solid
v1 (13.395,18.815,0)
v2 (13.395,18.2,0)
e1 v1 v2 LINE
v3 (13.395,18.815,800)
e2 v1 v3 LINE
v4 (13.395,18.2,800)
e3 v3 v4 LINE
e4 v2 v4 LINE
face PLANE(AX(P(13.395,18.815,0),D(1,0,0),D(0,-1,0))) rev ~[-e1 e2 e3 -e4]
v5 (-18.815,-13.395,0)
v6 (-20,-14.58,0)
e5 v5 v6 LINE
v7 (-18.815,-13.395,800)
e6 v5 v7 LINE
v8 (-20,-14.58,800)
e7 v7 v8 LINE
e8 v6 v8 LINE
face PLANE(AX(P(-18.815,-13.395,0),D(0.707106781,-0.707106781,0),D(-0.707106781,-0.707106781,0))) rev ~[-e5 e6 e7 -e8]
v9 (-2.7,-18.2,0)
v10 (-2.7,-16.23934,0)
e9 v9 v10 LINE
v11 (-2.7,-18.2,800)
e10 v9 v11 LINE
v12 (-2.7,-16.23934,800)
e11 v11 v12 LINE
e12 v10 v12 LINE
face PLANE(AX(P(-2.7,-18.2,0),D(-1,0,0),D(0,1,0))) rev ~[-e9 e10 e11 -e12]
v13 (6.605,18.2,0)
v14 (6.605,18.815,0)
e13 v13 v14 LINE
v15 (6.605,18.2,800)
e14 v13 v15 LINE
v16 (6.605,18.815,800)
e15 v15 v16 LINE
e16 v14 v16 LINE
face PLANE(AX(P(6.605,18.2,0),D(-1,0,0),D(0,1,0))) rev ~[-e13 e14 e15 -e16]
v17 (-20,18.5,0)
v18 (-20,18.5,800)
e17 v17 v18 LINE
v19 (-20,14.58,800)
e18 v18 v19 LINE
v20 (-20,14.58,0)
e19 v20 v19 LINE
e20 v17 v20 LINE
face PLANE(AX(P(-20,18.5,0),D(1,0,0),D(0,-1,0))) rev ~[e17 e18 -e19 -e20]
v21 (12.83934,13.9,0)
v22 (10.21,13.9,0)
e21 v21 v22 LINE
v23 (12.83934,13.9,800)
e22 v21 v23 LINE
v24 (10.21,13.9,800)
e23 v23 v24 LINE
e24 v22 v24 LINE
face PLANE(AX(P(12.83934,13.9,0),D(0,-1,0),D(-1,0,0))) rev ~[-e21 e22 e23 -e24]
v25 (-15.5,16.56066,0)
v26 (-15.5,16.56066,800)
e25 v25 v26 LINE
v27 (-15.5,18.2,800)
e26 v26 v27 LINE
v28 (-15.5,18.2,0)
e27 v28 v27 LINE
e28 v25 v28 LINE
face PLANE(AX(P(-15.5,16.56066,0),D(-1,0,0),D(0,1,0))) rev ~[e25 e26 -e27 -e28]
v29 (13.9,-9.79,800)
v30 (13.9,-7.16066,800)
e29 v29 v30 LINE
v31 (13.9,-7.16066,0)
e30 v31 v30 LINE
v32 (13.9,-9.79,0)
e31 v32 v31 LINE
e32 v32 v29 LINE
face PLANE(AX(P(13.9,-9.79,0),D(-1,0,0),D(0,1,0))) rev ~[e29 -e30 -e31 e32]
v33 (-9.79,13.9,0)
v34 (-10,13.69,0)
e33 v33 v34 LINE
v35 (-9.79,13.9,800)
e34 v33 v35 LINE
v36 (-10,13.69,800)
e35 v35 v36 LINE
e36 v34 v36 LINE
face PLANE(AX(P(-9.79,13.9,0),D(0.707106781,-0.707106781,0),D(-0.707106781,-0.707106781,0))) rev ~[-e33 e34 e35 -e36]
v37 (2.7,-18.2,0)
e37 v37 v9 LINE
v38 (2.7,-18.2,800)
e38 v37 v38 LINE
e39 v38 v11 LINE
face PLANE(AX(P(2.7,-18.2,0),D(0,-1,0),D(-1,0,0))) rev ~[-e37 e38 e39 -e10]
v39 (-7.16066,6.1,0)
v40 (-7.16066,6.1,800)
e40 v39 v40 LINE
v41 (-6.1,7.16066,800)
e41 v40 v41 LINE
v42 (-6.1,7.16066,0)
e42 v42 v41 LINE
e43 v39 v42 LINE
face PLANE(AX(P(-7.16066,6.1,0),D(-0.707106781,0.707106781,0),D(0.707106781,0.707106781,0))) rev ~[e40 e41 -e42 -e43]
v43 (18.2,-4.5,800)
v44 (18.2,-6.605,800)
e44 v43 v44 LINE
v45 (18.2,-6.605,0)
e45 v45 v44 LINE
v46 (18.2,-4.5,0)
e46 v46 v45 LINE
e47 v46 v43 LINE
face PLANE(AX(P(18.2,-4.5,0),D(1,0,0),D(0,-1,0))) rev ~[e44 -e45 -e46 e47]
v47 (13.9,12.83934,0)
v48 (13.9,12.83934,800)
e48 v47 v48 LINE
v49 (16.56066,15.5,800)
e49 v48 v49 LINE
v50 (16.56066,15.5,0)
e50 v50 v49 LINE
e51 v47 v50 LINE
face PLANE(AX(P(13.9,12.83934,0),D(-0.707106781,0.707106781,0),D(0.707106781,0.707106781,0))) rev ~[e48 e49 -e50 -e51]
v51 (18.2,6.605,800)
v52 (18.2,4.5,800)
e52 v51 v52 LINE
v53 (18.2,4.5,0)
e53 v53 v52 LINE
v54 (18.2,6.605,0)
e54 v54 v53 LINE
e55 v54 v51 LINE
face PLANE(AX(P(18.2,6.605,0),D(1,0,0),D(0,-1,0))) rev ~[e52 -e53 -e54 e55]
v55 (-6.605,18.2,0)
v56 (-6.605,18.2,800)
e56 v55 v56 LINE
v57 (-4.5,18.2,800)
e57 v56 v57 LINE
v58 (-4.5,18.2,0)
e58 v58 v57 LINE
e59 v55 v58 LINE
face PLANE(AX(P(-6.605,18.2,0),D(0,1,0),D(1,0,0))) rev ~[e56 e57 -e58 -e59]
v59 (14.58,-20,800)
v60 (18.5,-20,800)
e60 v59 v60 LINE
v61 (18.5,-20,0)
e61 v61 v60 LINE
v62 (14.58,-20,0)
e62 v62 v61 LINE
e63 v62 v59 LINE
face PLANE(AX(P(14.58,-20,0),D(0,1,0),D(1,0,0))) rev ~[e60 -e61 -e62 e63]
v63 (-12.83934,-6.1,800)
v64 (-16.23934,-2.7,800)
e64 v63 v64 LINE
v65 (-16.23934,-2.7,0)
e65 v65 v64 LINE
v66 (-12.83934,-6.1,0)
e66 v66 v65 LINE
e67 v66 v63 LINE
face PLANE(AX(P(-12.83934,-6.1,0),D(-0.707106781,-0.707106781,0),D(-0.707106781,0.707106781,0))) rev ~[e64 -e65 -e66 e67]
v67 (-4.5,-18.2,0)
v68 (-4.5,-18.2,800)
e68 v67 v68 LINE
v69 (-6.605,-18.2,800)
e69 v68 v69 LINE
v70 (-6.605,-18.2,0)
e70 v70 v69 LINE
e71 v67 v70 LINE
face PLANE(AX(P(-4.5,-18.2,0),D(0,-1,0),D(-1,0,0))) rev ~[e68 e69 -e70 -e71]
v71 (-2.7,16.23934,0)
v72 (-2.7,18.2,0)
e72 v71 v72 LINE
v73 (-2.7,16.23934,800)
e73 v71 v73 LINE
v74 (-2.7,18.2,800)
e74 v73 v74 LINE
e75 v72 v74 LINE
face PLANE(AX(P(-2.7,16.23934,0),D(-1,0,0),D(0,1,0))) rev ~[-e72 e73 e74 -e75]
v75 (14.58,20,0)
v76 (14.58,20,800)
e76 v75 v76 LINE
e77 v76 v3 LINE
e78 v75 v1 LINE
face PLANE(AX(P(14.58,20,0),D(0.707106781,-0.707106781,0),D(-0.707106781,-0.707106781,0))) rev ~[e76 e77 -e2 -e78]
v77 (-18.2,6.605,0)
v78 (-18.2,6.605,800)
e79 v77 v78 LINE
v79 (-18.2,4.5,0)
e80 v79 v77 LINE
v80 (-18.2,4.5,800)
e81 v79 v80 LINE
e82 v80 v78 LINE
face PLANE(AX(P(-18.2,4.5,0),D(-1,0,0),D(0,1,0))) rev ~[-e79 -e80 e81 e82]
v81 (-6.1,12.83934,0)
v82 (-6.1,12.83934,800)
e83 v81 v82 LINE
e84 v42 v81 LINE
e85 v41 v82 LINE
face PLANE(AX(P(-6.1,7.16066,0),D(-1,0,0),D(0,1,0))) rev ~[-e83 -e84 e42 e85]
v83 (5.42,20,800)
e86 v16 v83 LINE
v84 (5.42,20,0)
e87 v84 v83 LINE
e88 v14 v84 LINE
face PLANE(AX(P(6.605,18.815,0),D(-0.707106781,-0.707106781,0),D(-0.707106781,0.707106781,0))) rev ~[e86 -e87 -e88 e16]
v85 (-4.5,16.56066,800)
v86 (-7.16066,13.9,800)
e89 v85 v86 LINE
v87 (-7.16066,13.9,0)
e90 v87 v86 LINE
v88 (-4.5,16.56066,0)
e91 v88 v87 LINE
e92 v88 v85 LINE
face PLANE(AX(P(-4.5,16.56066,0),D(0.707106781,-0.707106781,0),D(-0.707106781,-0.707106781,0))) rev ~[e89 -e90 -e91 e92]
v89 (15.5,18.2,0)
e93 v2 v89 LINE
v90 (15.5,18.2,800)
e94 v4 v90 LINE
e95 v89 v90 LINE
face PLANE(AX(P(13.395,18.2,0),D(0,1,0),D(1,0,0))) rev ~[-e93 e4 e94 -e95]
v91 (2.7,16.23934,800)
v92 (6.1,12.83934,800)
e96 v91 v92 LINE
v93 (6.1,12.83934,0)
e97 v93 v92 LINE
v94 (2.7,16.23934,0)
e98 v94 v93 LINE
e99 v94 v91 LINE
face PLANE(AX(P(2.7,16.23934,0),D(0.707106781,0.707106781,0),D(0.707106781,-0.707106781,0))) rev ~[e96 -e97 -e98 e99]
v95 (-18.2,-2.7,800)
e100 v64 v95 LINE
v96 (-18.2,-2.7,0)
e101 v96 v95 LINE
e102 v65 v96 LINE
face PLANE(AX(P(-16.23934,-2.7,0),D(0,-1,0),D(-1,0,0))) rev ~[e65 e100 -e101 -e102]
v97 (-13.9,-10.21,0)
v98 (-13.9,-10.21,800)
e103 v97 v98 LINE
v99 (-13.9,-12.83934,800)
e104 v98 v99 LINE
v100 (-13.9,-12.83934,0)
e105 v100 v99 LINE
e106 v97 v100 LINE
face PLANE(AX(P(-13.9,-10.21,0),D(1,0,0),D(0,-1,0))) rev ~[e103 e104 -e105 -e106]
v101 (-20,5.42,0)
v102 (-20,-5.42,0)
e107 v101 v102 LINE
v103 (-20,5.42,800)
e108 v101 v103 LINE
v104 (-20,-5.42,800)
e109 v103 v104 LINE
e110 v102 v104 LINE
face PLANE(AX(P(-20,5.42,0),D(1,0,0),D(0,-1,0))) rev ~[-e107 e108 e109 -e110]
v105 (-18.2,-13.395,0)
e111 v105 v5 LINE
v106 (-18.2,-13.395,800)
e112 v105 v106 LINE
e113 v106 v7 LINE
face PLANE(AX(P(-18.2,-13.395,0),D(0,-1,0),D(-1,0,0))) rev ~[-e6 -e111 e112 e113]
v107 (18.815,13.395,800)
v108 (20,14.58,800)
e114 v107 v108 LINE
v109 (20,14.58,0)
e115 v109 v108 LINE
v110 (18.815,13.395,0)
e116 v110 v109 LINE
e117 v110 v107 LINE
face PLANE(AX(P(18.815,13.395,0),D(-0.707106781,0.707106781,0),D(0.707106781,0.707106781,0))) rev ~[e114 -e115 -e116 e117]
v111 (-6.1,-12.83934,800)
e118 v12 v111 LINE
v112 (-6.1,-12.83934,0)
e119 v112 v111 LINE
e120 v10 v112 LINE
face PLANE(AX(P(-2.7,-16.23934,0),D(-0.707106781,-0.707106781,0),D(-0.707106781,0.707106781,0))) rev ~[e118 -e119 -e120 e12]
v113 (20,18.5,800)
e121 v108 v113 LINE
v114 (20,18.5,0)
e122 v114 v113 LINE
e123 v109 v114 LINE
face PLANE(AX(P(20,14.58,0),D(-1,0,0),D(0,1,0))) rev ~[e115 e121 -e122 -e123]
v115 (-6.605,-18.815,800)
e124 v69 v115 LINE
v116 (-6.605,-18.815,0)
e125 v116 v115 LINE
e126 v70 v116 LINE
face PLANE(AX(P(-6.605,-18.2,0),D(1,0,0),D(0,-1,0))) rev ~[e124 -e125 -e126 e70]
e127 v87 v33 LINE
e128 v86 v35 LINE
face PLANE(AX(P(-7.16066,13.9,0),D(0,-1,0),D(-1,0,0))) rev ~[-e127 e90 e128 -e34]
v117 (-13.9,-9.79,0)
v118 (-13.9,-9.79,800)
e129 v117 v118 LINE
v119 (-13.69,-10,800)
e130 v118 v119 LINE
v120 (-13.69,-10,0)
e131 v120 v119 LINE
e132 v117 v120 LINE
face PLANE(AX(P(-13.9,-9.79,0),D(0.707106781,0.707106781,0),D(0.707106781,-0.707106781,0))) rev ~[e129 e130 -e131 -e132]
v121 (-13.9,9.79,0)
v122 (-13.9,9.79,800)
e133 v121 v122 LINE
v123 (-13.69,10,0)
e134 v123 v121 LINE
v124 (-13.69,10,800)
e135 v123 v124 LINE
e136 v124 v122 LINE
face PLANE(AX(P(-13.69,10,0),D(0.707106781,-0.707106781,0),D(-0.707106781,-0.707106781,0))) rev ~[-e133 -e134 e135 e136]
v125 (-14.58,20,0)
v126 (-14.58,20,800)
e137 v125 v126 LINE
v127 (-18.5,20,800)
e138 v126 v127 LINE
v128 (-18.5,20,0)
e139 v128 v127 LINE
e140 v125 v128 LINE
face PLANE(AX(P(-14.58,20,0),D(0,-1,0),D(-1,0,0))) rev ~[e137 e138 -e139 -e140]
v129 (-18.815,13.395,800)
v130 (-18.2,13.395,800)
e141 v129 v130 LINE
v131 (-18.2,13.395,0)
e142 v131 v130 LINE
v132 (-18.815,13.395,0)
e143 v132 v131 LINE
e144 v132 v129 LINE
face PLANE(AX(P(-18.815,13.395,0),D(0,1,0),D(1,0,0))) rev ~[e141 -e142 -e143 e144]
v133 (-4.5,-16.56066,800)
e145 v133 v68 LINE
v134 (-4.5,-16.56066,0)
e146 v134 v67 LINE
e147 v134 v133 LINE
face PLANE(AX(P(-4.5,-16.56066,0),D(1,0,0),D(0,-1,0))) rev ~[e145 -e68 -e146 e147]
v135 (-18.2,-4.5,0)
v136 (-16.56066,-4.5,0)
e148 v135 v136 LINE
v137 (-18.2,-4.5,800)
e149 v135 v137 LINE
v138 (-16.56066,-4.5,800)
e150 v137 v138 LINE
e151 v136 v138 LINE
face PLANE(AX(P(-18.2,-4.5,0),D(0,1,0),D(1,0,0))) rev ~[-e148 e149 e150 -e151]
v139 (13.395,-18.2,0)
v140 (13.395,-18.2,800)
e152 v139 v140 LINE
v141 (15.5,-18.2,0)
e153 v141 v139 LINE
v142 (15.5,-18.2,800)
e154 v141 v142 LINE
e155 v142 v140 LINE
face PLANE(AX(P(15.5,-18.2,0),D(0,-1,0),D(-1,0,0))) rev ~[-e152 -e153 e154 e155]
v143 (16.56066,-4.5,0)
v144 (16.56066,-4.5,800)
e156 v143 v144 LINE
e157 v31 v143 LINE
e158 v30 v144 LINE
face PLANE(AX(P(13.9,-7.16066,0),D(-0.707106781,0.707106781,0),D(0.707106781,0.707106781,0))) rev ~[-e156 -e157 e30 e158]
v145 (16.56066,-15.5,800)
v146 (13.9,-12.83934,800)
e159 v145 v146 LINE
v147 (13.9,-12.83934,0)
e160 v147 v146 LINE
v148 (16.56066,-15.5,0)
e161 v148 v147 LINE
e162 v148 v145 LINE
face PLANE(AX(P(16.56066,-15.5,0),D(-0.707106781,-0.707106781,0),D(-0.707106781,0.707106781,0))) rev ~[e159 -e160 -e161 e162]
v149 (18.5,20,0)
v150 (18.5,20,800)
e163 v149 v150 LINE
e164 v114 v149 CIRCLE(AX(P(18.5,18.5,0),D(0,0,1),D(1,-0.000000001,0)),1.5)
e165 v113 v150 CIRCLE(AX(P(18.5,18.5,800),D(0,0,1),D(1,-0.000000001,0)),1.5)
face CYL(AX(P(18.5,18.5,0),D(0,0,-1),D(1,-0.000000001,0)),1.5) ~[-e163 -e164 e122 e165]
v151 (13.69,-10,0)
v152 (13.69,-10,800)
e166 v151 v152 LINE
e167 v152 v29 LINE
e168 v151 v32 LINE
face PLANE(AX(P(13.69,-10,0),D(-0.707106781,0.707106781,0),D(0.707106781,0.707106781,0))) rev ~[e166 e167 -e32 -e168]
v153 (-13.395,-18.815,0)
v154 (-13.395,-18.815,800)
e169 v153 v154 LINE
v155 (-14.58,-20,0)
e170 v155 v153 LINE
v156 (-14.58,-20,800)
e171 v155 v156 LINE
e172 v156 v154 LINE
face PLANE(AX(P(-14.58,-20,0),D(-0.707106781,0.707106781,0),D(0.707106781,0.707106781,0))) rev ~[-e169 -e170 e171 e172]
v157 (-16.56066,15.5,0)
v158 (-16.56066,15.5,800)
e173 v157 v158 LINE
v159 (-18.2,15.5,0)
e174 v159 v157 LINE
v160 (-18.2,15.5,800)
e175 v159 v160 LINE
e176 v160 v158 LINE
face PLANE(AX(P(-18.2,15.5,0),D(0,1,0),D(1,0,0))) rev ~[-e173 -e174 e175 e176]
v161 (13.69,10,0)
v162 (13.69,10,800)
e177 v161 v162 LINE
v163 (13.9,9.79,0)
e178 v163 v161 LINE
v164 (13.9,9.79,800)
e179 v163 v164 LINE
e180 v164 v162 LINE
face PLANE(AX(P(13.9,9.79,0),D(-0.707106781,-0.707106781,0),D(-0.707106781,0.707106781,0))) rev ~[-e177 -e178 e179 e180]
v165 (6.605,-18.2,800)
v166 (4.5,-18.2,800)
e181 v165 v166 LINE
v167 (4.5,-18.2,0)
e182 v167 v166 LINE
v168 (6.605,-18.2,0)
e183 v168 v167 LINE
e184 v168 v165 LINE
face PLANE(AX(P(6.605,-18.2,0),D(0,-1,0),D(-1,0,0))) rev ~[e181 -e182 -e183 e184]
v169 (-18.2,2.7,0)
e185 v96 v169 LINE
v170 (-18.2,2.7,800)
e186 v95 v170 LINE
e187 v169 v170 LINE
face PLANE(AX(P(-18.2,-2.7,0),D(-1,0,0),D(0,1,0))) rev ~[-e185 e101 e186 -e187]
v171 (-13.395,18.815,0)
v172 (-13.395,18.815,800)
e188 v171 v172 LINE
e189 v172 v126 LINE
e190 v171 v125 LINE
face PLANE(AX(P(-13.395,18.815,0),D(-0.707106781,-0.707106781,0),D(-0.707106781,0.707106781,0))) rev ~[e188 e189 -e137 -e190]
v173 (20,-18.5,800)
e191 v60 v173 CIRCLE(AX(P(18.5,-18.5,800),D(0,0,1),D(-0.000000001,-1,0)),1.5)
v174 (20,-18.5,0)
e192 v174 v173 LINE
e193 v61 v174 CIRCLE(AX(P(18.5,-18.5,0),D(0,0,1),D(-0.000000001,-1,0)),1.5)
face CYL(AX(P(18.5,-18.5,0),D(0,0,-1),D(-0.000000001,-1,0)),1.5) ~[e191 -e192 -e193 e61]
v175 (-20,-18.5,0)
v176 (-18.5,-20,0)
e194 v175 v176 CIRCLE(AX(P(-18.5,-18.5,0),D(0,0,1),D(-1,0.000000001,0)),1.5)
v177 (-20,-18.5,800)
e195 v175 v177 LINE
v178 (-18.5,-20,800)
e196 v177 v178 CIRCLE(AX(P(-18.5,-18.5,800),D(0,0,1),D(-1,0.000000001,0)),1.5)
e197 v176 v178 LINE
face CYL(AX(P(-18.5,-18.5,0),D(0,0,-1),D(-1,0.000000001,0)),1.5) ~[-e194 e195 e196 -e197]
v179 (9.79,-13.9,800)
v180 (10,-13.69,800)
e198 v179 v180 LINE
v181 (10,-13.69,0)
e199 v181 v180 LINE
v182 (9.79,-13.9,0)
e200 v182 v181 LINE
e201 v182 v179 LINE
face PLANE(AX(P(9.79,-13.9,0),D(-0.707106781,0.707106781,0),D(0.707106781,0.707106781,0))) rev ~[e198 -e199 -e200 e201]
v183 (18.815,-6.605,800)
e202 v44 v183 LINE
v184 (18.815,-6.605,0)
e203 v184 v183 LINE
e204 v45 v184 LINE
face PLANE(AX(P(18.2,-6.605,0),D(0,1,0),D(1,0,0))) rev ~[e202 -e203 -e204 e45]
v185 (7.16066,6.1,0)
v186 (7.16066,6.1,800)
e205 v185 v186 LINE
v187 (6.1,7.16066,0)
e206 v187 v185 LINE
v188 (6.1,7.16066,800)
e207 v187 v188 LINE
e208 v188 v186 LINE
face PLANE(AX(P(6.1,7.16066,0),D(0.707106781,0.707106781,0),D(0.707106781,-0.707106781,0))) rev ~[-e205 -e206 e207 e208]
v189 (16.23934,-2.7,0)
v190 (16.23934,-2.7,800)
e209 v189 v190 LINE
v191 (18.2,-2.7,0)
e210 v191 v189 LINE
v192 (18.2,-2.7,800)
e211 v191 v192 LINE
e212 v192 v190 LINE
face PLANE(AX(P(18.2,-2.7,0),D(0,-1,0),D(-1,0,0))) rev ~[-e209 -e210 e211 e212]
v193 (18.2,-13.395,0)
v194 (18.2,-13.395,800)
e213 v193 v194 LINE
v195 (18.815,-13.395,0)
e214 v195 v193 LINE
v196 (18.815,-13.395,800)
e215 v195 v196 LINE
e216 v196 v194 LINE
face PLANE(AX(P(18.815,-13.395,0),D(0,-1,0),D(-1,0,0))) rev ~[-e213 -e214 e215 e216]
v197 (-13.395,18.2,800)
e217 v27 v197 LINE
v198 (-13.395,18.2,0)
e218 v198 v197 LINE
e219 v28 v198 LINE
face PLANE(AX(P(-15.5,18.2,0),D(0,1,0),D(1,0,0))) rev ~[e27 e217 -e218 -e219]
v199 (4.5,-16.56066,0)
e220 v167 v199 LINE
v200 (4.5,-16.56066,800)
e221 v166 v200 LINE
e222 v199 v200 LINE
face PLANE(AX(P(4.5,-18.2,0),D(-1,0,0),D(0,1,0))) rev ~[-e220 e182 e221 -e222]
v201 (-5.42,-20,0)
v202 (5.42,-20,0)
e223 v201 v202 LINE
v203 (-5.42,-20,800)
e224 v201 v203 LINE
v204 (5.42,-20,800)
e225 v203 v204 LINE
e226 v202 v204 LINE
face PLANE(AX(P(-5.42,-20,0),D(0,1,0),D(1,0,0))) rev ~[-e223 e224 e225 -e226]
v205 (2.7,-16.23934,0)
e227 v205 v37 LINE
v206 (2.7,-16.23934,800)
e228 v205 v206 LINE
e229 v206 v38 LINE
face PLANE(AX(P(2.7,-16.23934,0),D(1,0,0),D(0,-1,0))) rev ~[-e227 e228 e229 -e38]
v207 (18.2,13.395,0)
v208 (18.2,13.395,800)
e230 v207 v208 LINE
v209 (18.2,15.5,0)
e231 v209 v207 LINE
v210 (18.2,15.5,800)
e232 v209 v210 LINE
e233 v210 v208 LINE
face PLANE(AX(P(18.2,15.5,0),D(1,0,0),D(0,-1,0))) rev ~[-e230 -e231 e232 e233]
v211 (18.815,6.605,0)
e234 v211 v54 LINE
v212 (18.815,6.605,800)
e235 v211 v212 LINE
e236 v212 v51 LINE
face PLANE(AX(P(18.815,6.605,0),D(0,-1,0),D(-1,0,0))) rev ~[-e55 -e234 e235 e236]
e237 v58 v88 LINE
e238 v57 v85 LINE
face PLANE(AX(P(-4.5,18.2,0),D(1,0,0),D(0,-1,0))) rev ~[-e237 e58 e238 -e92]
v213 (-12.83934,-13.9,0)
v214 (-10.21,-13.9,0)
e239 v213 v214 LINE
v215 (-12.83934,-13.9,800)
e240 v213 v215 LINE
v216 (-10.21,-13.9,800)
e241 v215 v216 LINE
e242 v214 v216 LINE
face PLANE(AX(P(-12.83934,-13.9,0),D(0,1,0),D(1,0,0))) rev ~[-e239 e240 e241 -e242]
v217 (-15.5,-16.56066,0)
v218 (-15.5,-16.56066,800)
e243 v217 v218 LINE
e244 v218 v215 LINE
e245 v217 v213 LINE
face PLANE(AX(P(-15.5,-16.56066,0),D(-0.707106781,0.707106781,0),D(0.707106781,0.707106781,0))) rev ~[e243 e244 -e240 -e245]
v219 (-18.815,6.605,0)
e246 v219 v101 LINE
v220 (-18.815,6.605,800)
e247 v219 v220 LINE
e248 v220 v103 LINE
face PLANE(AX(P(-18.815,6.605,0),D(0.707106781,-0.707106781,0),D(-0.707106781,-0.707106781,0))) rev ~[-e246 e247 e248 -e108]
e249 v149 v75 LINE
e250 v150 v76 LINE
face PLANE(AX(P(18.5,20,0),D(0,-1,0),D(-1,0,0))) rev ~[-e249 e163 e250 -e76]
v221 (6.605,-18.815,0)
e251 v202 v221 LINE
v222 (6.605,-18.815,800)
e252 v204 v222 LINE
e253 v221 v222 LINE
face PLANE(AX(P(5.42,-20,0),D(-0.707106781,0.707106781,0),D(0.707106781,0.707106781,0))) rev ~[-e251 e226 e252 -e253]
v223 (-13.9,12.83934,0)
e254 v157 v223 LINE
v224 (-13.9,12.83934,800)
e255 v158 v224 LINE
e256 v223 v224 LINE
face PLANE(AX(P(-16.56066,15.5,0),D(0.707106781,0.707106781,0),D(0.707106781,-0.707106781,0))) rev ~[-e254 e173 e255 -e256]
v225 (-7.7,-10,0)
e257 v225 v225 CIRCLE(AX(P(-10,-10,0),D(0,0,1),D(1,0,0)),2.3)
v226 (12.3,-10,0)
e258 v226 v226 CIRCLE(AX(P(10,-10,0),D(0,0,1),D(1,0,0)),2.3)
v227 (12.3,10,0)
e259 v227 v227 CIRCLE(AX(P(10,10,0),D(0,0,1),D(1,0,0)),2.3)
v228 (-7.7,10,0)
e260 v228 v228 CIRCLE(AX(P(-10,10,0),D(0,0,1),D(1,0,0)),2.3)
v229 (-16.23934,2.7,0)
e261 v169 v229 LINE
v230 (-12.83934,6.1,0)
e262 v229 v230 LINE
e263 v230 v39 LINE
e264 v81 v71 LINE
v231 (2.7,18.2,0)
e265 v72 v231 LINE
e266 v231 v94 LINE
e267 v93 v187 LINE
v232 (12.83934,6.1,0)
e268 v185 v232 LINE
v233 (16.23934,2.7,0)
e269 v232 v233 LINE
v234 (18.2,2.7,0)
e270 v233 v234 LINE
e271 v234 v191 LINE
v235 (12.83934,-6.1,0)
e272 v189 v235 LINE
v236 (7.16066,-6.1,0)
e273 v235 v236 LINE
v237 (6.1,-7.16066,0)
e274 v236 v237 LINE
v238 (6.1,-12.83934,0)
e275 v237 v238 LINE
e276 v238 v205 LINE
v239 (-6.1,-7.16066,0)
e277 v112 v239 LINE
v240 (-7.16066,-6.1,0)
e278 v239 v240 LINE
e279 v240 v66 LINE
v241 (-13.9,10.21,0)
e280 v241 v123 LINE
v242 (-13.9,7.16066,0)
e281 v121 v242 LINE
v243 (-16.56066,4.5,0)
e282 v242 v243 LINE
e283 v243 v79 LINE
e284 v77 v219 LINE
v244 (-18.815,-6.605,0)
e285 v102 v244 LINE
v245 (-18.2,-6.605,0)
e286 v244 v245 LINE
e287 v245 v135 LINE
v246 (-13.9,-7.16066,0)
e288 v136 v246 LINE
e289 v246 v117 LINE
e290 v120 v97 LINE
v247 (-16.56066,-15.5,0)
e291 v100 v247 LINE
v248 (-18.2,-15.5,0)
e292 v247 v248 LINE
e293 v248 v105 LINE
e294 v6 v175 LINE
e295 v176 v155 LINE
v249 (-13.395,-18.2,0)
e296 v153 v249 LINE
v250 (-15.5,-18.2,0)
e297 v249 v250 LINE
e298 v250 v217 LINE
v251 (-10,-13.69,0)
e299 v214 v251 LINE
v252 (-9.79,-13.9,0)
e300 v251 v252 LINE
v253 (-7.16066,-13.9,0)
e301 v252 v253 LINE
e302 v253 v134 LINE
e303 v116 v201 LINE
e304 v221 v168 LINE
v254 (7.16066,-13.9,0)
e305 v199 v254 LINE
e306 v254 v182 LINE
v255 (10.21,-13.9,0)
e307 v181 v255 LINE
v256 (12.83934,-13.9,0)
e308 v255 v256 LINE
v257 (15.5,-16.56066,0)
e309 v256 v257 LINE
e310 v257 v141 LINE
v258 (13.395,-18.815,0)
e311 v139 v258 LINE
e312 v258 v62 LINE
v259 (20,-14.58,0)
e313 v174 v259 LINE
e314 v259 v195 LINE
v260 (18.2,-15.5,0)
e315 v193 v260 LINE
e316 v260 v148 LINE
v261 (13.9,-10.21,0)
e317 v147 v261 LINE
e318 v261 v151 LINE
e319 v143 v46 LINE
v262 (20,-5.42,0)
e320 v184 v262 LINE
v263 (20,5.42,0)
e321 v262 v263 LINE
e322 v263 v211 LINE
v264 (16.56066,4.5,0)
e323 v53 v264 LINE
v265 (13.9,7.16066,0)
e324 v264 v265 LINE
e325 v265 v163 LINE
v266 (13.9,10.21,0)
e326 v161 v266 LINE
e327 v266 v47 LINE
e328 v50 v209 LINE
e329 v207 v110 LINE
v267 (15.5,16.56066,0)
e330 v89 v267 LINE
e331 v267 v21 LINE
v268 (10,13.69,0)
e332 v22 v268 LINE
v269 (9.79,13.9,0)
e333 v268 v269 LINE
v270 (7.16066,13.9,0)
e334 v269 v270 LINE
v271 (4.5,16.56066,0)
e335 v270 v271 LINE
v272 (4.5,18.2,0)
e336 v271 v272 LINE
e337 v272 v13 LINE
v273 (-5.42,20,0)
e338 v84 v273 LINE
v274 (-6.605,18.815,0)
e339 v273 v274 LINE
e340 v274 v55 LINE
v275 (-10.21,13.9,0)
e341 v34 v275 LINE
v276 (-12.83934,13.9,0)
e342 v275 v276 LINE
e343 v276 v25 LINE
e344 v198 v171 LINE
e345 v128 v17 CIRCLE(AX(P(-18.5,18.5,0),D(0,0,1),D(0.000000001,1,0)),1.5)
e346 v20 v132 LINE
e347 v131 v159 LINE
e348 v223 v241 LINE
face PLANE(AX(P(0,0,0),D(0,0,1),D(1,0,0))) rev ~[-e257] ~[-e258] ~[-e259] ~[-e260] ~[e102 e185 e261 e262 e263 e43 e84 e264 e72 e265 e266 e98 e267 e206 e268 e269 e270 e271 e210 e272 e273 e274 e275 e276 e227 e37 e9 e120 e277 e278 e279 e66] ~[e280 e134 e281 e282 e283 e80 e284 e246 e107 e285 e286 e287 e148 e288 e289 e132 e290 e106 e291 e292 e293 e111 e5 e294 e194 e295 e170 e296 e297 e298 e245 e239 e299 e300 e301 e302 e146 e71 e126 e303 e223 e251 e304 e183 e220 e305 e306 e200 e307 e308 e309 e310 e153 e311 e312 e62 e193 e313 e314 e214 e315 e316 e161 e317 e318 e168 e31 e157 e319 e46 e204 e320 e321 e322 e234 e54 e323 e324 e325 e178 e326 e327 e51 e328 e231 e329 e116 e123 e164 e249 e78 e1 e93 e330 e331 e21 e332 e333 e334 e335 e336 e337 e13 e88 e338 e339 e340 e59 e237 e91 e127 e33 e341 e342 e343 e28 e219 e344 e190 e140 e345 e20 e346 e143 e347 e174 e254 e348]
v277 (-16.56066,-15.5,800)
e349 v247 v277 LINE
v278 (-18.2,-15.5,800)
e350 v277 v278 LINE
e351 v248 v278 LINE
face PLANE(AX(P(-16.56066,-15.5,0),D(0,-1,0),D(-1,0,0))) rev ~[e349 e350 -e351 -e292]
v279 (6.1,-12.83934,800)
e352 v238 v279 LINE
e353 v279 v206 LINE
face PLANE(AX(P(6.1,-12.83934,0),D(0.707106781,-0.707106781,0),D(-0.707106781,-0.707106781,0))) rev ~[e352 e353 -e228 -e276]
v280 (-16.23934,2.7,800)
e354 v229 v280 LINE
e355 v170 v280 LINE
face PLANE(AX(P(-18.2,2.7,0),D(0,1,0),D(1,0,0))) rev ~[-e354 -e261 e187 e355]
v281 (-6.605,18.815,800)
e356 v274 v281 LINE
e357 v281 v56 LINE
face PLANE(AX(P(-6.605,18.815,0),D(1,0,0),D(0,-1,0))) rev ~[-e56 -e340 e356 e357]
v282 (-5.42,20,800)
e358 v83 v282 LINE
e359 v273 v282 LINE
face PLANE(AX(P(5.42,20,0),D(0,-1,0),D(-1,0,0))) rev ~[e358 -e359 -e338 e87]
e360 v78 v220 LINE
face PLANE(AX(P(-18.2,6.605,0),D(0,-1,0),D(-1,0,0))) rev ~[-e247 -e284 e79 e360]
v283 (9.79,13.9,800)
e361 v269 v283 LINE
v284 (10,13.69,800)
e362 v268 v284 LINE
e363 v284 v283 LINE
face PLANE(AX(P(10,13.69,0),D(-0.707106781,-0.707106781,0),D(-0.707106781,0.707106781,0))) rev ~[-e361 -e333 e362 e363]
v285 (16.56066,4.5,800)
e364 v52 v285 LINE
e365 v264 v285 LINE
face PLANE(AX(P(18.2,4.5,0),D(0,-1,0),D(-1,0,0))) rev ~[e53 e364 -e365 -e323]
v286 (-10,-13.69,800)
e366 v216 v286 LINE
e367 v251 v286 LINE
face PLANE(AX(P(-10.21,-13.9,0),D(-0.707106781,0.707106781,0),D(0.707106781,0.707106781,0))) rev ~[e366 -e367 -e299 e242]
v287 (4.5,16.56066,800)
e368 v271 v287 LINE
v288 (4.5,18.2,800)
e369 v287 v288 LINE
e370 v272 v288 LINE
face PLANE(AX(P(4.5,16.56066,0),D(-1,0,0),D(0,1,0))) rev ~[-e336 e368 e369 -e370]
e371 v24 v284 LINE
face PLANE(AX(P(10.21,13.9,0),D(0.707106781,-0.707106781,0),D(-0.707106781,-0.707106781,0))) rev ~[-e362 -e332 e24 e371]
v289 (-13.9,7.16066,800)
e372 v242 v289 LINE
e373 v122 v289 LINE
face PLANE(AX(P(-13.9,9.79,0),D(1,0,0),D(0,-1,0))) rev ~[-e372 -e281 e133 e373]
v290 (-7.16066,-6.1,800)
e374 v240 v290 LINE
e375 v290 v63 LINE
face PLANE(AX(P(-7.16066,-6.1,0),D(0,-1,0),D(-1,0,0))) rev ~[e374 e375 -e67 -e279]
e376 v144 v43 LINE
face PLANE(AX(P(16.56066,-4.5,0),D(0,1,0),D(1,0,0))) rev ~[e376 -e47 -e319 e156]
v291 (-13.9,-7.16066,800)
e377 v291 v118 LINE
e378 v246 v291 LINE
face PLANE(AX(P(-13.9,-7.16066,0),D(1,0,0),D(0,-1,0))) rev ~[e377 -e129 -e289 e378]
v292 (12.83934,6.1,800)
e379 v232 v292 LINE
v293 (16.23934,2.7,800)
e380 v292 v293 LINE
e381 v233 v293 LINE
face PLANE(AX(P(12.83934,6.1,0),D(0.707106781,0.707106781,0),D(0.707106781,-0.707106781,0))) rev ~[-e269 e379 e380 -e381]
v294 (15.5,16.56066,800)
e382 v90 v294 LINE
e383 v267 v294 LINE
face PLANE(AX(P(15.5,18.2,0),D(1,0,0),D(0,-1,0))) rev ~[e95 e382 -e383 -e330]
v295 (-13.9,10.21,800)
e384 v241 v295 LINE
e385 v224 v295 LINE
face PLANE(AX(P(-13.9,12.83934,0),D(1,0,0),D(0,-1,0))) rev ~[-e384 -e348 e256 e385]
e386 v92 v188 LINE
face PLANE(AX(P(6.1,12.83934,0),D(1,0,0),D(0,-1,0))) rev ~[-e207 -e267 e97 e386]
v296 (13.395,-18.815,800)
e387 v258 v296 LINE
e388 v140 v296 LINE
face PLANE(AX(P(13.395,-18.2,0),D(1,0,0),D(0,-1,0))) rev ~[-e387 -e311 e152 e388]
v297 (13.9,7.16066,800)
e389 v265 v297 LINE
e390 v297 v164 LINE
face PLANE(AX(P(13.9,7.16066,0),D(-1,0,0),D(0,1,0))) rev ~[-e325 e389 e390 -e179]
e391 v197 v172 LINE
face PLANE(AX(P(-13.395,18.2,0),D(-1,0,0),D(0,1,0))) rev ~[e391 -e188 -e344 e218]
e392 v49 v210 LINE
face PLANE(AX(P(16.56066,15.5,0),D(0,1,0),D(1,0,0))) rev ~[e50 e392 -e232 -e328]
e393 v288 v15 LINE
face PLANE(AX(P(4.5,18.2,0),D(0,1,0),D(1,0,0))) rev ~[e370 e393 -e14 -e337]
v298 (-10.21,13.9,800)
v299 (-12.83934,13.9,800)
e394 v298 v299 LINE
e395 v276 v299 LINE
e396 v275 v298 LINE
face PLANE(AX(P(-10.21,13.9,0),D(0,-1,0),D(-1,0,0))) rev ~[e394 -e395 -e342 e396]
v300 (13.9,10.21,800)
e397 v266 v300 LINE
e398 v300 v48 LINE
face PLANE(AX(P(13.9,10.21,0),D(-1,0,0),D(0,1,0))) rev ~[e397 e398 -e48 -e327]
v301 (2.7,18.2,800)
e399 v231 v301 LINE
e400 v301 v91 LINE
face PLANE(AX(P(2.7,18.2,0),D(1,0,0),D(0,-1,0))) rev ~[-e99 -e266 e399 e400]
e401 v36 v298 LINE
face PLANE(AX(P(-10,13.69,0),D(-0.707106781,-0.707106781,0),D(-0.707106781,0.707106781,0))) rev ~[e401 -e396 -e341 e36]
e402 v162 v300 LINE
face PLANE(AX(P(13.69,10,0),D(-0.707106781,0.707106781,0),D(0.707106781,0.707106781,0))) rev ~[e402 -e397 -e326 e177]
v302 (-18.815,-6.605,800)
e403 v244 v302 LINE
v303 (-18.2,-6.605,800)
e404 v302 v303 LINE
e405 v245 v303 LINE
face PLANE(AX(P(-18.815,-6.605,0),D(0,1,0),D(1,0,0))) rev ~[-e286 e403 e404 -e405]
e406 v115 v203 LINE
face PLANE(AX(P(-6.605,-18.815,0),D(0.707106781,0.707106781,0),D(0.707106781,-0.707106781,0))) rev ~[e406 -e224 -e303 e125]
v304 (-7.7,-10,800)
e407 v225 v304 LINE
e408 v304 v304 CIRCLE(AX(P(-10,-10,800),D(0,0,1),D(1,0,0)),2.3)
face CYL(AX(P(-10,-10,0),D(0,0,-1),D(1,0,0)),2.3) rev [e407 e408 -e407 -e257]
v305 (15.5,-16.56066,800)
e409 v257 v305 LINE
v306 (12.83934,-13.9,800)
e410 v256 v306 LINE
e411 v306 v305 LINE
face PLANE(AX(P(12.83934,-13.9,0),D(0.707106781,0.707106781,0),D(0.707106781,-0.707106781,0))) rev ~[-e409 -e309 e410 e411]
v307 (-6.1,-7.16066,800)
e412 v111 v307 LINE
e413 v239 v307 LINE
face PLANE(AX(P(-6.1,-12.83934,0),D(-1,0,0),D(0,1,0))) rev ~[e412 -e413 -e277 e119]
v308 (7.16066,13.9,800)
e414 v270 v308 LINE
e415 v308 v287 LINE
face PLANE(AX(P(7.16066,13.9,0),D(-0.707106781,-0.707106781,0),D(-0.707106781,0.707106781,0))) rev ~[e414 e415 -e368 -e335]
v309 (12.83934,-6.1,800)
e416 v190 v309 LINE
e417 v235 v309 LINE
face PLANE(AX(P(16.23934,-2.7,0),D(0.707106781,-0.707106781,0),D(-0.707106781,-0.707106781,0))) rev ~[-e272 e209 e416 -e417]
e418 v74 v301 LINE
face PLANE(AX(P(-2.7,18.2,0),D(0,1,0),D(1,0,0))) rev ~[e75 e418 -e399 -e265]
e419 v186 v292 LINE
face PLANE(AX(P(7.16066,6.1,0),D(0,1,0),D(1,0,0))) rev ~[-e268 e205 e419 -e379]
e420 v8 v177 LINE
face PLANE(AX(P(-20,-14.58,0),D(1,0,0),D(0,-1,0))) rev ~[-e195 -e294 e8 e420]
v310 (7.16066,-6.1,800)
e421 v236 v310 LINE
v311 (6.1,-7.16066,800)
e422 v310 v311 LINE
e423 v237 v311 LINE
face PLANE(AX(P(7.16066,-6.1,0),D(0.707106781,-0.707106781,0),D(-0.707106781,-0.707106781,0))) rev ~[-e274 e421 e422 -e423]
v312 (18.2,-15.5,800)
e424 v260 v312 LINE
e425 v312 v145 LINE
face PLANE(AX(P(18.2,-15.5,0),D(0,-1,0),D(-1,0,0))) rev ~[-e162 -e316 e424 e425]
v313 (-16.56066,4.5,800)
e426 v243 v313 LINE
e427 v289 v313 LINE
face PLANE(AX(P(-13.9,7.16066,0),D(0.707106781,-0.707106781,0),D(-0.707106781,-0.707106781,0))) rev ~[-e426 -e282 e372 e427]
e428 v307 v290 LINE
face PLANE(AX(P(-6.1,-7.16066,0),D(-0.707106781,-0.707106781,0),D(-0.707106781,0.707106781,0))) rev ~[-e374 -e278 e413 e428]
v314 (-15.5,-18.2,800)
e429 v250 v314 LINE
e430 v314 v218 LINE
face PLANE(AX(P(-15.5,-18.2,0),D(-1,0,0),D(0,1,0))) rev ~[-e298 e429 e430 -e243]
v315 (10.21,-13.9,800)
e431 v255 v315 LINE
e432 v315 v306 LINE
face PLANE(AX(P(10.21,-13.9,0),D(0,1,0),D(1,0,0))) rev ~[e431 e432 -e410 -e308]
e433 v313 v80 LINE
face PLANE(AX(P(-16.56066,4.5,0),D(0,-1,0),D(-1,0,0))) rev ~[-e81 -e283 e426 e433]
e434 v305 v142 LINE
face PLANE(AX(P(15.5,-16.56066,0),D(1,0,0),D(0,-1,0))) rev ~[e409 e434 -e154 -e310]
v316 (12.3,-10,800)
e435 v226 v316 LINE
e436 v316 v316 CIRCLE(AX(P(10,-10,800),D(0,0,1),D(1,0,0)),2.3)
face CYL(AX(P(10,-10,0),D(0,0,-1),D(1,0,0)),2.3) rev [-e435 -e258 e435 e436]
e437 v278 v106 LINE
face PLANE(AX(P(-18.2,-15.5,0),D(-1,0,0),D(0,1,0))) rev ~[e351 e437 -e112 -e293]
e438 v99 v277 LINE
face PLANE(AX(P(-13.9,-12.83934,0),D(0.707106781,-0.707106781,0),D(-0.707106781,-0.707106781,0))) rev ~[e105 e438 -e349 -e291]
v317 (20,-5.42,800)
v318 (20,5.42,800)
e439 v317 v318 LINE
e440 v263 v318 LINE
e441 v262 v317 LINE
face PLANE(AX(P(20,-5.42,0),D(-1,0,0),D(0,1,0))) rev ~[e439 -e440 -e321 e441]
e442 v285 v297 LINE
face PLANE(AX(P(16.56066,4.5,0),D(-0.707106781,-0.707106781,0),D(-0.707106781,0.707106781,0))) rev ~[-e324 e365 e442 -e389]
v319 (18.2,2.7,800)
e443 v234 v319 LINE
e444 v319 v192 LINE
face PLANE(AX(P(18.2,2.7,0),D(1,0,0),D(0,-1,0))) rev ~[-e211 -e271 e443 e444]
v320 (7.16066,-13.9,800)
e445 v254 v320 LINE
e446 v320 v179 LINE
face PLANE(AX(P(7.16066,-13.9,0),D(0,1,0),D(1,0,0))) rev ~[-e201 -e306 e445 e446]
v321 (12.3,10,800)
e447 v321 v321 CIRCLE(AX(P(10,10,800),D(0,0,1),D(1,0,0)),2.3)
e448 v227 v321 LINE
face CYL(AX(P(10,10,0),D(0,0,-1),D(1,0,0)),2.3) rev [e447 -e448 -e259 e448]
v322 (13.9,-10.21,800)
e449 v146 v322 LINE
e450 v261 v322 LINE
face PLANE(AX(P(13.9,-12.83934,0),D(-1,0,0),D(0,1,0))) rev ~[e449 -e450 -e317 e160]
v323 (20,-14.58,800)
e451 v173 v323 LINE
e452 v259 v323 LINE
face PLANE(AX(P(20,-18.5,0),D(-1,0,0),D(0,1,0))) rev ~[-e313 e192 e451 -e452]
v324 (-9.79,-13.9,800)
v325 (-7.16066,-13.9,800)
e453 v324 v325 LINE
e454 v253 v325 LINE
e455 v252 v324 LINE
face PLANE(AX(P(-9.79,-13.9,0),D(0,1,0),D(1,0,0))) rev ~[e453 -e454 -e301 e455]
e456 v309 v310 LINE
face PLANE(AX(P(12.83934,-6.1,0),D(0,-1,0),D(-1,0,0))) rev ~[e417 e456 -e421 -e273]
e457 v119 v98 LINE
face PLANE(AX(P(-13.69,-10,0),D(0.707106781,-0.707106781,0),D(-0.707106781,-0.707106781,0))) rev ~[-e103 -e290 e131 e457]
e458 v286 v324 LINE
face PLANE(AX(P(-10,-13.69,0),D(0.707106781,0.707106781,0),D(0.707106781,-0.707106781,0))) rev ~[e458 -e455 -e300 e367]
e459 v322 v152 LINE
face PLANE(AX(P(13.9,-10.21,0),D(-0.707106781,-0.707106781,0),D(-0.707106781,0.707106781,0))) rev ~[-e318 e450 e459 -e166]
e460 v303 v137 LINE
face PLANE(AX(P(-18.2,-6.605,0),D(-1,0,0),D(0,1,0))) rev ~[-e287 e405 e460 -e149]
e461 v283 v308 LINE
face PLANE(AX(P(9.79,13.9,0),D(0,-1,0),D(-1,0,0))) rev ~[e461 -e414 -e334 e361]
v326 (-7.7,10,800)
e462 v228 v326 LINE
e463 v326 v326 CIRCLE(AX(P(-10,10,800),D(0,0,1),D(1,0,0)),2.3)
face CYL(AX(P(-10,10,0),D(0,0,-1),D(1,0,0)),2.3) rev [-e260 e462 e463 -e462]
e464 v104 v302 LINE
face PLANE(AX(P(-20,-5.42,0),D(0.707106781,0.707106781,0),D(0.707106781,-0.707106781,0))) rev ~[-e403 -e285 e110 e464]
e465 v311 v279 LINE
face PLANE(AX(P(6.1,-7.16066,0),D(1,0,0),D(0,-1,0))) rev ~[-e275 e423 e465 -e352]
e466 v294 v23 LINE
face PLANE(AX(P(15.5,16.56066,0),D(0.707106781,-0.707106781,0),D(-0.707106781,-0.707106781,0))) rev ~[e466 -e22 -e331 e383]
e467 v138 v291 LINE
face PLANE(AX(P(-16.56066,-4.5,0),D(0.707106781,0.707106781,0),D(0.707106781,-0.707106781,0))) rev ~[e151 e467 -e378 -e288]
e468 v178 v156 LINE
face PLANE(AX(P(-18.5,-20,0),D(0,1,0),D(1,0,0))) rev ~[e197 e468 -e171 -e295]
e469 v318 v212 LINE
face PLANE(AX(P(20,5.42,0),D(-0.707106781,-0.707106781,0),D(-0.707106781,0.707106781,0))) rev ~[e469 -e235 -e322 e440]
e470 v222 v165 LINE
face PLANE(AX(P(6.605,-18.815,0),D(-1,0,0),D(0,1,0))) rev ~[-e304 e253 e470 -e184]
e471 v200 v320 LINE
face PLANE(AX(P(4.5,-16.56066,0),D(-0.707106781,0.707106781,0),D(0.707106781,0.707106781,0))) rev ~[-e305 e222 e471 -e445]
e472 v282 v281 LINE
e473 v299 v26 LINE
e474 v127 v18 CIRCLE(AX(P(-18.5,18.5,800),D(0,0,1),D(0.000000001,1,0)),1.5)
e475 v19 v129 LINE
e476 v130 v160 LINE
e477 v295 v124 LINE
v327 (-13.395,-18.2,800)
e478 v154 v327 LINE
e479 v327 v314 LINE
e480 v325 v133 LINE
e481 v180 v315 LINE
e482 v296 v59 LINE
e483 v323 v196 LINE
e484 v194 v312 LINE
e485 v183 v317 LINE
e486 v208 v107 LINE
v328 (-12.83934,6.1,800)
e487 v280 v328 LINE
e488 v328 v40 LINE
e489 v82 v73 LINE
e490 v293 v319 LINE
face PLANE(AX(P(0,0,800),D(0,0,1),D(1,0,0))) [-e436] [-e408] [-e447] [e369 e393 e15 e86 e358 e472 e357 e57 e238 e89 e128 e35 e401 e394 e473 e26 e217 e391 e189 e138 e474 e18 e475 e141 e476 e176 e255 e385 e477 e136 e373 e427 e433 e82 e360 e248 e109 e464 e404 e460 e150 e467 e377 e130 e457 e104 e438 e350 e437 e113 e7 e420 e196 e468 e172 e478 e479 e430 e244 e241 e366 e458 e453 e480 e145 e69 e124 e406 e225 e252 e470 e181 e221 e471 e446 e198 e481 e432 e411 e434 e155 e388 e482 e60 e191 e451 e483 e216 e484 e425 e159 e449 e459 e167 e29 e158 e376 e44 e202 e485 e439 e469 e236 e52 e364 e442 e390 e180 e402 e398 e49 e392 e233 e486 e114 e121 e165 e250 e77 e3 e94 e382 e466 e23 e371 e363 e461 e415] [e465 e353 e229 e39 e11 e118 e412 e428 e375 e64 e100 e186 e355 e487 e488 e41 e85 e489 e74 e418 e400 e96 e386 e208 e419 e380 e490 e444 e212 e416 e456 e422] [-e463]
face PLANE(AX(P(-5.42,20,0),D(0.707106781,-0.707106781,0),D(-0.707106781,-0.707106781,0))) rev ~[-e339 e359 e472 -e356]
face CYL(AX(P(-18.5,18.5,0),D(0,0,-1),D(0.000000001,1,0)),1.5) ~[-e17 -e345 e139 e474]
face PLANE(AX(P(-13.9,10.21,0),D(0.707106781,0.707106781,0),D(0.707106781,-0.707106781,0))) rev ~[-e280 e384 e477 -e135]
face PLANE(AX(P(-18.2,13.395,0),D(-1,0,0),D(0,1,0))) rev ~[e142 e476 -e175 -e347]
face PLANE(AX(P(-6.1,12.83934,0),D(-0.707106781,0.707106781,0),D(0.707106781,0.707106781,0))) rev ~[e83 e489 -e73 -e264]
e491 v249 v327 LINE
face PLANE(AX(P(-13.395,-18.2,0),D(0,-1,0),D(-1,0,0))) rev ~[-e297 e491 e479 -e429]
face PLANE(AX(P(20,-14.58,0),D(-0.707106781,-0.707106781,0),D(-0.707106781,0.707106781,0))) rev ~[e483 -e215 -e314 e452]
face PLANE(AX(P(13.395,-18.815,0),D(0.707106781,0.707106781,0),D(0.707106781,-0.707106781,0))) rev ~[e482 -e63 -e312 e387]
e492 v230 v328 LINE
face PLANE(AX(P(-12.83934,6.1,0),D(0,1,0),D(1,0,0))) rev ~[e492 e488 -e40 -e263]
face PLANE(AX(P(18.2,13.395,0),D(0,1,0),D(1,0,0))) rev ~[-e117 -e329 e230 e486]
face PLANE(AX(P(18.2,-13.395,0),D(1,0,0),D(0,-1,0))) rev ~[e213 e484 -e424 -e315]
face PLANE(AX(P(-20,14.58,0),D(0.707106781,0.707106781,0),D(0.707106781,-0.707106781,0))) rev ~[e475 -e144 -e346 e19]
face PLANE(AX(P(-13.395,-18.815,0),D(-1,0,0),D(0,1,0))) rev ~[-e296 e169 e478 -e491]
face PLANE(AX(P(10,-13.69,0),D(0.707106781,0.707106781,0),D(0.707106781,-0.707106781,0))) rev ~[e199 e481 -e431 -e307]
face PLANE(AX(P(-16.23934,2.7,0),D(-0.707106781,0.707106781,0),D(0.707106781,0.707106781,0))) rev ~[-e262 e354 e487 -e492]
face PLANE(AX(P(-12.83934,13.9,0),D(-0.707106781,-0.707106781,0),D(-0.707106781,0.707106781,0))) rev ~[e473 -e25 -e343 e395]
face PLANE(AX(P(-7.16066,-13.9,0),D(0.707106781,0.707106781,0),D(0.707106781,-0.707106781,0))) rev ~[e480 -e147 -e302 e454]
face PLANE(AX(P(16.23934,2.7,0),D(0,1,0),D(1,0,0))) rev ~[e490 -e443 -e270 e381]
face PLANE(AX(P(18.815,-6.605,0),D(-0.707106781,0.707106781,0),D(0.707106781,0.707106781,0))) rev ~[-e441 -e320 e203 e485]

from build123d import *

# Parameters (mm, degrees)
SKETCH1_R           = 2.3
BOSS_EXTRUDE1_DEPTH = 800


with BuildPart() as part:
    # Sketch1 → Boss-Extrude1 (new body)
    with BuildSketch(Plane.XY):
        with BuildLine():
            Line((14.58, -20), (18.5, -20))
            ThreePointArc((18.5, -20), (19.560660172, -19.560660172), (20, -18.5))
            Line((20, -18.5), (20, -14.58))
            Line((20, -14.58), (18.815, -13.395))
            Line((18.815, -13.395), (18.2, -13.395))
            Line((18.2, -13.395), (18.2, -15.5))
            Line((18.2, -15.5), (16.560660172, -15.5))
            Line((16.560660172, -15.5), (13.9, -12.839339828))
            Line((13.9, -12.839339828), (13.9, -10.21))
            Line((13.9, -10.21), (13.69, -10))
            Line((13.69, -10), (13.9, -9.79))
            Line((13.9, -9.79), (13.9, -7.160660172))
            Line((13.9, -7.160660172), (16.560660172, -4.5))
            Line((16.560660172, -4.5), (18.2, -4.5))
            Line((18.2, -4.5), (18.2, -6.605))
            Line((18.2, -6.605), (18.815, -6.605))
            Line((18.815, -6.605), (20, -5.42))
            Line((20, -5.42), (20, 5.42))
            Line((20, 5.42), (18.815, 6.605))
            Line((18.815, 6.605), (18.2, 6.605))
            Line((18.2, 6.605), (18.2, 4.5))
            Line((18.2, 4.5), (16.560660172, 4.5))
            Line((16.560660172, 4.5), (13.9, 7.160660172))
            Line((13.9, 7.160660172), (13.9, 9.79))
            Line((13.9, 9.79), (13.69, 10))
            Line((13.69, 10), (13.9, 10.21))
            Line((13.9, 10.21), (13.9, 12.839339828))
            Line((13.9, 12.839339828), (16.560660172, 15.5))
            Line((16.560660172, 15.5), (18.2, 15.5))
            Line((18.2, 15.5), (18.2, 13.395))
            Line((18.2, 13.395), (18.815, 13.395))
            Line((18.815, 13.395), (20, 14.58))
            Line((20, 14.58), (20, 18.5))
            ThreePointArc((20, 18.5), (19.560660172, 19.560660172), (18.5, 20))
            Line((18.5, 20), (14.58, 20))
            Line((14.58, 20), (13.395, 18.815))
            Line((13.395, 18.815), (13.395, 18.2))
            Line((13.395, 18.2), (15.5, 18.2))
            Line((15.5, 18.2), (15.5, 16.560660172))
            Line((15.5, 16.560660172), (12.839339828, 13.9))
            Line((12.839339828, 13.9), (10.21, 13.9))
            Line((10.21, 13.9), (10, 13.69))
            Line((10, 13.69), (9.79, 13.9))
            Line((9.79, 13.9), (7.160660172, 13.9))
            Line((7.160660172, 13.9), (4.5, 16.560660172))
            Line((4.5, 16.560660172), (4.5, 18.2))
            Line((4.5, 18.2), (6.605, 18.2))
            Line((6.605, 18.2), (6.605, 18.815))
            Line((6.605, 18.815), (5.42, 20))
            Line((5.42, 20), (-5.42, 20))
            Line((-5.42, 20), (-6.605, 18.815))
            Line((-6.605, 18.815), (-6.605, 18.2))
            Line((-6.605, 18.2), (-4.5, 18.2))
            Line((-4.5, 18.2), (-4.5, 16.560660172))
            Line((-4.5, 16.560660172), (-7.160660172, 13.9))
            Line((-7.160660172, 13.9), (-9.79, 13.9))
            Line((-9.79, 13.9), (-10, 13.69))
            Line((-10, 13.69), (-10.21, 13.9))
            Line((-10.21, 13.9), (-12.839339828, 13.9))
            Line((-12.839339828, 13.9), (-15.5, 16.560660172))
            Line((-15.5, 16.560660172), (-15.5, 18.2))
            Line((-15.5, 18.2), (-13.395, 18.2))
            Line((-13.395, 18.2), (-13.395, 18.815))
            Line((-13.395, 18.815), (-14.58, 20))
            Line((-14.58, 20), (-18.5, 20))
            ThreePointArc((-18.5, 20), (-19.560660172, 19.560660172), (-20, 18.5))
            Line((-20, 18.5), (-20, 14.58))
            Line((-20, 14.58), (-18.815, 13.395))
            Line((-18.815, 13.395), (-18.2, 13.395))
            Line((-18.2, 13.395), (-18.2, 15.5))
            Line((-18.2, 15.5), (-16.560660172, 15.5))
            Line((-16.560660172, 15.5), (-13.9, 12.839339828))
            Line((-13.9, 12.839339828), (-13.9, 10.21))
            Line((-13.9, 10.21), (-13.69, 10))
            Line((-13.69, 10), (-13.9, 9.79))
            Line((-13.9, 9.79), (-13.9, 7.160660172))
            Line((-13.9, 7.160660172), (-16.560660172, 4.5))
            Line((-16.560660172, 4.5), (-18.2, 4.5))
            Line((-18.2, 4.5), (-18.2, 6.605))
            Line((-18.2, 6.605), (-18.815, 6.605))
            Line((-18.815, 6.605), (-20, 5.42))
            Line((-20, 5.42), (-20, -5.42))
            Line((-20, -5.42), (-18.815, -6.605))
            Line((-18.815, -6.605), (-18.2, -6.605))
            Line((-18.2, -6.605), (-18.2, -4.5))
            Line((-18.2, -4.5), (-16.560660172, -4.5))
            Line((-16.560660172, -4.5), (-13.9, -7.160660172))
            Line((-13.9, -7.160660172), (-13.9, -9.79))
            Line((-13.9, -9.79), (-13.69, -10))
            Line((-13.69, -10), (-13.9, -10.21))
            Line((-13.9, -10.21), (-13.9, -12.839339828))
            Line((-13.9, -12.839339828), (-16.560660172, -15.5))
            Line((-16.560660172, -15.5), (-18.2, -15.5))
            Line((-18.2, -15.5), (-18.2, -13.395))
            Line((-18.2, -13.395), (-18.815, -13.395))
            Line((-18.815, -13.395), (-20, -14.58))
            Line((-20, -14.58), (-20, -18.5))
            ThreePointArc((-20, -18.5), (-19.560660172, -19.560660172), (-18.5, -20))
            Line((-18.5, -20), (-14.58, -20))
            Line((-14.58, -20), (-13.395, -18.815))
            Line((-13.395, -18.815), (-13.395, -18.2))
            Line((-13.395, -18.2), (-15.5, -18.2))
            Line((-15.5, -18.2), (-15.5, -16.560660172))
            Line((-15.5, -16.560660172), (-12.839339828, -13.9))
            Line((-12.839339828, -13.9), (-10.21, -13.9))
            Line((-10.21, -13.9), (-10, -13.69))
            Line((-10, -13.69), (-9.79, -13.9))
            Line((-9.79, -13.9), (-7.160660172, -13.9))
            Line((-7.160660172, -13.9), (-4.5, -16.560660172))
            Line((-4.5, -16.560660172), (-4.5, -18.2))
            Line((-4.5, -18.2), (-6.605, -18.2))
            Line((-6.605, -18.2), (-6.605, -18.815))
            Line((-6.605, -18.815), (-5.42, -20))
            Line((-5.42, -20), (5.42, -20))
            Line((5.42, -20), (6.605, -18.815))
            Line((6.605, -18.815), (6.605, -18.2))
            Line((6.605, -18.2), (4.5, -18.2))
            Line((4.5, -18.2), (4.5, -16.560660172))
            Line((4.5, -16.560660172), (7.160660172, -13.9))
            Line((7.160660172, -13.9), (9.79, -13.9))
            Line((9.79, -13.9), (10, -13.69))
            Line((10, -13.69), (10.21, -13.9))
            Line((10.21, -13.9), (12.839339828, -13.9))
            Line((12.839339828, -13.9), (15.5, -16.560660172))
            Line((15.5, -16.560660172), (15.5, -18.2))
            Line((15.5, -18.2), (13.395, -18.2))
            Line((13.395, -18.2), (13.395, -18.815))
            Line((13.395, -18.815), (14.58, -20))
        make_face()
        with Locations((-10, -10)):
            Circle(SKETCH1_R, mode=Mode.SUBTRACT)
        with Locations((10, -10)):
            Circle(SKETCH1_R, mode=Mode.SUBTRACT)
        Polygon((-16.239339828, -2.7), (-18.2, -2.7), (-18.2, 2.7), (-16.239339828, 2.7), (-12.839339828, 6.1), (-7.160660172, 6.1), (-6.1, 7.160660172), (-6.1, 12.839339828), (-2.7, 16.239339828), (-2.7, 18.2), (2.7, 18.2), (2.7, 16.239339828), (6.1, 12.839339828), (6.1, 7.160660172), (7.160660172, 6.1), (12.839339828, 6.1), (16.239339828, 2.7), (18.2, 2.7), (18.2, -2.7), (16.239339828, -2.7), (12.839339828, -6.1), (7.160660172, -6.1), (6.1, -7.160660172), (6.1, -12.839339828), (2.7, -16.239339828), (2.7, -18.2), (-2.7, -18.2), (-2.7, -16.239339828), (-6.1, -12.839339828), (-6.1, -7.160660172), (-7.160660172, -6.1), (-12.839339828, -6.1), align=None, mode=Mode.SUBTRACT)
        with Locations((-10, 10)):
            Circle(SKETCH1_R, mode=Mode.SUBTRACT)
        with Locations((10, 10)):
            Circle(SKETCH1_R, mode=Mode.SUBTRACT)
    extrude(amount=BOSS_EXTRUDE1_DEPTH)


solid = part.part
